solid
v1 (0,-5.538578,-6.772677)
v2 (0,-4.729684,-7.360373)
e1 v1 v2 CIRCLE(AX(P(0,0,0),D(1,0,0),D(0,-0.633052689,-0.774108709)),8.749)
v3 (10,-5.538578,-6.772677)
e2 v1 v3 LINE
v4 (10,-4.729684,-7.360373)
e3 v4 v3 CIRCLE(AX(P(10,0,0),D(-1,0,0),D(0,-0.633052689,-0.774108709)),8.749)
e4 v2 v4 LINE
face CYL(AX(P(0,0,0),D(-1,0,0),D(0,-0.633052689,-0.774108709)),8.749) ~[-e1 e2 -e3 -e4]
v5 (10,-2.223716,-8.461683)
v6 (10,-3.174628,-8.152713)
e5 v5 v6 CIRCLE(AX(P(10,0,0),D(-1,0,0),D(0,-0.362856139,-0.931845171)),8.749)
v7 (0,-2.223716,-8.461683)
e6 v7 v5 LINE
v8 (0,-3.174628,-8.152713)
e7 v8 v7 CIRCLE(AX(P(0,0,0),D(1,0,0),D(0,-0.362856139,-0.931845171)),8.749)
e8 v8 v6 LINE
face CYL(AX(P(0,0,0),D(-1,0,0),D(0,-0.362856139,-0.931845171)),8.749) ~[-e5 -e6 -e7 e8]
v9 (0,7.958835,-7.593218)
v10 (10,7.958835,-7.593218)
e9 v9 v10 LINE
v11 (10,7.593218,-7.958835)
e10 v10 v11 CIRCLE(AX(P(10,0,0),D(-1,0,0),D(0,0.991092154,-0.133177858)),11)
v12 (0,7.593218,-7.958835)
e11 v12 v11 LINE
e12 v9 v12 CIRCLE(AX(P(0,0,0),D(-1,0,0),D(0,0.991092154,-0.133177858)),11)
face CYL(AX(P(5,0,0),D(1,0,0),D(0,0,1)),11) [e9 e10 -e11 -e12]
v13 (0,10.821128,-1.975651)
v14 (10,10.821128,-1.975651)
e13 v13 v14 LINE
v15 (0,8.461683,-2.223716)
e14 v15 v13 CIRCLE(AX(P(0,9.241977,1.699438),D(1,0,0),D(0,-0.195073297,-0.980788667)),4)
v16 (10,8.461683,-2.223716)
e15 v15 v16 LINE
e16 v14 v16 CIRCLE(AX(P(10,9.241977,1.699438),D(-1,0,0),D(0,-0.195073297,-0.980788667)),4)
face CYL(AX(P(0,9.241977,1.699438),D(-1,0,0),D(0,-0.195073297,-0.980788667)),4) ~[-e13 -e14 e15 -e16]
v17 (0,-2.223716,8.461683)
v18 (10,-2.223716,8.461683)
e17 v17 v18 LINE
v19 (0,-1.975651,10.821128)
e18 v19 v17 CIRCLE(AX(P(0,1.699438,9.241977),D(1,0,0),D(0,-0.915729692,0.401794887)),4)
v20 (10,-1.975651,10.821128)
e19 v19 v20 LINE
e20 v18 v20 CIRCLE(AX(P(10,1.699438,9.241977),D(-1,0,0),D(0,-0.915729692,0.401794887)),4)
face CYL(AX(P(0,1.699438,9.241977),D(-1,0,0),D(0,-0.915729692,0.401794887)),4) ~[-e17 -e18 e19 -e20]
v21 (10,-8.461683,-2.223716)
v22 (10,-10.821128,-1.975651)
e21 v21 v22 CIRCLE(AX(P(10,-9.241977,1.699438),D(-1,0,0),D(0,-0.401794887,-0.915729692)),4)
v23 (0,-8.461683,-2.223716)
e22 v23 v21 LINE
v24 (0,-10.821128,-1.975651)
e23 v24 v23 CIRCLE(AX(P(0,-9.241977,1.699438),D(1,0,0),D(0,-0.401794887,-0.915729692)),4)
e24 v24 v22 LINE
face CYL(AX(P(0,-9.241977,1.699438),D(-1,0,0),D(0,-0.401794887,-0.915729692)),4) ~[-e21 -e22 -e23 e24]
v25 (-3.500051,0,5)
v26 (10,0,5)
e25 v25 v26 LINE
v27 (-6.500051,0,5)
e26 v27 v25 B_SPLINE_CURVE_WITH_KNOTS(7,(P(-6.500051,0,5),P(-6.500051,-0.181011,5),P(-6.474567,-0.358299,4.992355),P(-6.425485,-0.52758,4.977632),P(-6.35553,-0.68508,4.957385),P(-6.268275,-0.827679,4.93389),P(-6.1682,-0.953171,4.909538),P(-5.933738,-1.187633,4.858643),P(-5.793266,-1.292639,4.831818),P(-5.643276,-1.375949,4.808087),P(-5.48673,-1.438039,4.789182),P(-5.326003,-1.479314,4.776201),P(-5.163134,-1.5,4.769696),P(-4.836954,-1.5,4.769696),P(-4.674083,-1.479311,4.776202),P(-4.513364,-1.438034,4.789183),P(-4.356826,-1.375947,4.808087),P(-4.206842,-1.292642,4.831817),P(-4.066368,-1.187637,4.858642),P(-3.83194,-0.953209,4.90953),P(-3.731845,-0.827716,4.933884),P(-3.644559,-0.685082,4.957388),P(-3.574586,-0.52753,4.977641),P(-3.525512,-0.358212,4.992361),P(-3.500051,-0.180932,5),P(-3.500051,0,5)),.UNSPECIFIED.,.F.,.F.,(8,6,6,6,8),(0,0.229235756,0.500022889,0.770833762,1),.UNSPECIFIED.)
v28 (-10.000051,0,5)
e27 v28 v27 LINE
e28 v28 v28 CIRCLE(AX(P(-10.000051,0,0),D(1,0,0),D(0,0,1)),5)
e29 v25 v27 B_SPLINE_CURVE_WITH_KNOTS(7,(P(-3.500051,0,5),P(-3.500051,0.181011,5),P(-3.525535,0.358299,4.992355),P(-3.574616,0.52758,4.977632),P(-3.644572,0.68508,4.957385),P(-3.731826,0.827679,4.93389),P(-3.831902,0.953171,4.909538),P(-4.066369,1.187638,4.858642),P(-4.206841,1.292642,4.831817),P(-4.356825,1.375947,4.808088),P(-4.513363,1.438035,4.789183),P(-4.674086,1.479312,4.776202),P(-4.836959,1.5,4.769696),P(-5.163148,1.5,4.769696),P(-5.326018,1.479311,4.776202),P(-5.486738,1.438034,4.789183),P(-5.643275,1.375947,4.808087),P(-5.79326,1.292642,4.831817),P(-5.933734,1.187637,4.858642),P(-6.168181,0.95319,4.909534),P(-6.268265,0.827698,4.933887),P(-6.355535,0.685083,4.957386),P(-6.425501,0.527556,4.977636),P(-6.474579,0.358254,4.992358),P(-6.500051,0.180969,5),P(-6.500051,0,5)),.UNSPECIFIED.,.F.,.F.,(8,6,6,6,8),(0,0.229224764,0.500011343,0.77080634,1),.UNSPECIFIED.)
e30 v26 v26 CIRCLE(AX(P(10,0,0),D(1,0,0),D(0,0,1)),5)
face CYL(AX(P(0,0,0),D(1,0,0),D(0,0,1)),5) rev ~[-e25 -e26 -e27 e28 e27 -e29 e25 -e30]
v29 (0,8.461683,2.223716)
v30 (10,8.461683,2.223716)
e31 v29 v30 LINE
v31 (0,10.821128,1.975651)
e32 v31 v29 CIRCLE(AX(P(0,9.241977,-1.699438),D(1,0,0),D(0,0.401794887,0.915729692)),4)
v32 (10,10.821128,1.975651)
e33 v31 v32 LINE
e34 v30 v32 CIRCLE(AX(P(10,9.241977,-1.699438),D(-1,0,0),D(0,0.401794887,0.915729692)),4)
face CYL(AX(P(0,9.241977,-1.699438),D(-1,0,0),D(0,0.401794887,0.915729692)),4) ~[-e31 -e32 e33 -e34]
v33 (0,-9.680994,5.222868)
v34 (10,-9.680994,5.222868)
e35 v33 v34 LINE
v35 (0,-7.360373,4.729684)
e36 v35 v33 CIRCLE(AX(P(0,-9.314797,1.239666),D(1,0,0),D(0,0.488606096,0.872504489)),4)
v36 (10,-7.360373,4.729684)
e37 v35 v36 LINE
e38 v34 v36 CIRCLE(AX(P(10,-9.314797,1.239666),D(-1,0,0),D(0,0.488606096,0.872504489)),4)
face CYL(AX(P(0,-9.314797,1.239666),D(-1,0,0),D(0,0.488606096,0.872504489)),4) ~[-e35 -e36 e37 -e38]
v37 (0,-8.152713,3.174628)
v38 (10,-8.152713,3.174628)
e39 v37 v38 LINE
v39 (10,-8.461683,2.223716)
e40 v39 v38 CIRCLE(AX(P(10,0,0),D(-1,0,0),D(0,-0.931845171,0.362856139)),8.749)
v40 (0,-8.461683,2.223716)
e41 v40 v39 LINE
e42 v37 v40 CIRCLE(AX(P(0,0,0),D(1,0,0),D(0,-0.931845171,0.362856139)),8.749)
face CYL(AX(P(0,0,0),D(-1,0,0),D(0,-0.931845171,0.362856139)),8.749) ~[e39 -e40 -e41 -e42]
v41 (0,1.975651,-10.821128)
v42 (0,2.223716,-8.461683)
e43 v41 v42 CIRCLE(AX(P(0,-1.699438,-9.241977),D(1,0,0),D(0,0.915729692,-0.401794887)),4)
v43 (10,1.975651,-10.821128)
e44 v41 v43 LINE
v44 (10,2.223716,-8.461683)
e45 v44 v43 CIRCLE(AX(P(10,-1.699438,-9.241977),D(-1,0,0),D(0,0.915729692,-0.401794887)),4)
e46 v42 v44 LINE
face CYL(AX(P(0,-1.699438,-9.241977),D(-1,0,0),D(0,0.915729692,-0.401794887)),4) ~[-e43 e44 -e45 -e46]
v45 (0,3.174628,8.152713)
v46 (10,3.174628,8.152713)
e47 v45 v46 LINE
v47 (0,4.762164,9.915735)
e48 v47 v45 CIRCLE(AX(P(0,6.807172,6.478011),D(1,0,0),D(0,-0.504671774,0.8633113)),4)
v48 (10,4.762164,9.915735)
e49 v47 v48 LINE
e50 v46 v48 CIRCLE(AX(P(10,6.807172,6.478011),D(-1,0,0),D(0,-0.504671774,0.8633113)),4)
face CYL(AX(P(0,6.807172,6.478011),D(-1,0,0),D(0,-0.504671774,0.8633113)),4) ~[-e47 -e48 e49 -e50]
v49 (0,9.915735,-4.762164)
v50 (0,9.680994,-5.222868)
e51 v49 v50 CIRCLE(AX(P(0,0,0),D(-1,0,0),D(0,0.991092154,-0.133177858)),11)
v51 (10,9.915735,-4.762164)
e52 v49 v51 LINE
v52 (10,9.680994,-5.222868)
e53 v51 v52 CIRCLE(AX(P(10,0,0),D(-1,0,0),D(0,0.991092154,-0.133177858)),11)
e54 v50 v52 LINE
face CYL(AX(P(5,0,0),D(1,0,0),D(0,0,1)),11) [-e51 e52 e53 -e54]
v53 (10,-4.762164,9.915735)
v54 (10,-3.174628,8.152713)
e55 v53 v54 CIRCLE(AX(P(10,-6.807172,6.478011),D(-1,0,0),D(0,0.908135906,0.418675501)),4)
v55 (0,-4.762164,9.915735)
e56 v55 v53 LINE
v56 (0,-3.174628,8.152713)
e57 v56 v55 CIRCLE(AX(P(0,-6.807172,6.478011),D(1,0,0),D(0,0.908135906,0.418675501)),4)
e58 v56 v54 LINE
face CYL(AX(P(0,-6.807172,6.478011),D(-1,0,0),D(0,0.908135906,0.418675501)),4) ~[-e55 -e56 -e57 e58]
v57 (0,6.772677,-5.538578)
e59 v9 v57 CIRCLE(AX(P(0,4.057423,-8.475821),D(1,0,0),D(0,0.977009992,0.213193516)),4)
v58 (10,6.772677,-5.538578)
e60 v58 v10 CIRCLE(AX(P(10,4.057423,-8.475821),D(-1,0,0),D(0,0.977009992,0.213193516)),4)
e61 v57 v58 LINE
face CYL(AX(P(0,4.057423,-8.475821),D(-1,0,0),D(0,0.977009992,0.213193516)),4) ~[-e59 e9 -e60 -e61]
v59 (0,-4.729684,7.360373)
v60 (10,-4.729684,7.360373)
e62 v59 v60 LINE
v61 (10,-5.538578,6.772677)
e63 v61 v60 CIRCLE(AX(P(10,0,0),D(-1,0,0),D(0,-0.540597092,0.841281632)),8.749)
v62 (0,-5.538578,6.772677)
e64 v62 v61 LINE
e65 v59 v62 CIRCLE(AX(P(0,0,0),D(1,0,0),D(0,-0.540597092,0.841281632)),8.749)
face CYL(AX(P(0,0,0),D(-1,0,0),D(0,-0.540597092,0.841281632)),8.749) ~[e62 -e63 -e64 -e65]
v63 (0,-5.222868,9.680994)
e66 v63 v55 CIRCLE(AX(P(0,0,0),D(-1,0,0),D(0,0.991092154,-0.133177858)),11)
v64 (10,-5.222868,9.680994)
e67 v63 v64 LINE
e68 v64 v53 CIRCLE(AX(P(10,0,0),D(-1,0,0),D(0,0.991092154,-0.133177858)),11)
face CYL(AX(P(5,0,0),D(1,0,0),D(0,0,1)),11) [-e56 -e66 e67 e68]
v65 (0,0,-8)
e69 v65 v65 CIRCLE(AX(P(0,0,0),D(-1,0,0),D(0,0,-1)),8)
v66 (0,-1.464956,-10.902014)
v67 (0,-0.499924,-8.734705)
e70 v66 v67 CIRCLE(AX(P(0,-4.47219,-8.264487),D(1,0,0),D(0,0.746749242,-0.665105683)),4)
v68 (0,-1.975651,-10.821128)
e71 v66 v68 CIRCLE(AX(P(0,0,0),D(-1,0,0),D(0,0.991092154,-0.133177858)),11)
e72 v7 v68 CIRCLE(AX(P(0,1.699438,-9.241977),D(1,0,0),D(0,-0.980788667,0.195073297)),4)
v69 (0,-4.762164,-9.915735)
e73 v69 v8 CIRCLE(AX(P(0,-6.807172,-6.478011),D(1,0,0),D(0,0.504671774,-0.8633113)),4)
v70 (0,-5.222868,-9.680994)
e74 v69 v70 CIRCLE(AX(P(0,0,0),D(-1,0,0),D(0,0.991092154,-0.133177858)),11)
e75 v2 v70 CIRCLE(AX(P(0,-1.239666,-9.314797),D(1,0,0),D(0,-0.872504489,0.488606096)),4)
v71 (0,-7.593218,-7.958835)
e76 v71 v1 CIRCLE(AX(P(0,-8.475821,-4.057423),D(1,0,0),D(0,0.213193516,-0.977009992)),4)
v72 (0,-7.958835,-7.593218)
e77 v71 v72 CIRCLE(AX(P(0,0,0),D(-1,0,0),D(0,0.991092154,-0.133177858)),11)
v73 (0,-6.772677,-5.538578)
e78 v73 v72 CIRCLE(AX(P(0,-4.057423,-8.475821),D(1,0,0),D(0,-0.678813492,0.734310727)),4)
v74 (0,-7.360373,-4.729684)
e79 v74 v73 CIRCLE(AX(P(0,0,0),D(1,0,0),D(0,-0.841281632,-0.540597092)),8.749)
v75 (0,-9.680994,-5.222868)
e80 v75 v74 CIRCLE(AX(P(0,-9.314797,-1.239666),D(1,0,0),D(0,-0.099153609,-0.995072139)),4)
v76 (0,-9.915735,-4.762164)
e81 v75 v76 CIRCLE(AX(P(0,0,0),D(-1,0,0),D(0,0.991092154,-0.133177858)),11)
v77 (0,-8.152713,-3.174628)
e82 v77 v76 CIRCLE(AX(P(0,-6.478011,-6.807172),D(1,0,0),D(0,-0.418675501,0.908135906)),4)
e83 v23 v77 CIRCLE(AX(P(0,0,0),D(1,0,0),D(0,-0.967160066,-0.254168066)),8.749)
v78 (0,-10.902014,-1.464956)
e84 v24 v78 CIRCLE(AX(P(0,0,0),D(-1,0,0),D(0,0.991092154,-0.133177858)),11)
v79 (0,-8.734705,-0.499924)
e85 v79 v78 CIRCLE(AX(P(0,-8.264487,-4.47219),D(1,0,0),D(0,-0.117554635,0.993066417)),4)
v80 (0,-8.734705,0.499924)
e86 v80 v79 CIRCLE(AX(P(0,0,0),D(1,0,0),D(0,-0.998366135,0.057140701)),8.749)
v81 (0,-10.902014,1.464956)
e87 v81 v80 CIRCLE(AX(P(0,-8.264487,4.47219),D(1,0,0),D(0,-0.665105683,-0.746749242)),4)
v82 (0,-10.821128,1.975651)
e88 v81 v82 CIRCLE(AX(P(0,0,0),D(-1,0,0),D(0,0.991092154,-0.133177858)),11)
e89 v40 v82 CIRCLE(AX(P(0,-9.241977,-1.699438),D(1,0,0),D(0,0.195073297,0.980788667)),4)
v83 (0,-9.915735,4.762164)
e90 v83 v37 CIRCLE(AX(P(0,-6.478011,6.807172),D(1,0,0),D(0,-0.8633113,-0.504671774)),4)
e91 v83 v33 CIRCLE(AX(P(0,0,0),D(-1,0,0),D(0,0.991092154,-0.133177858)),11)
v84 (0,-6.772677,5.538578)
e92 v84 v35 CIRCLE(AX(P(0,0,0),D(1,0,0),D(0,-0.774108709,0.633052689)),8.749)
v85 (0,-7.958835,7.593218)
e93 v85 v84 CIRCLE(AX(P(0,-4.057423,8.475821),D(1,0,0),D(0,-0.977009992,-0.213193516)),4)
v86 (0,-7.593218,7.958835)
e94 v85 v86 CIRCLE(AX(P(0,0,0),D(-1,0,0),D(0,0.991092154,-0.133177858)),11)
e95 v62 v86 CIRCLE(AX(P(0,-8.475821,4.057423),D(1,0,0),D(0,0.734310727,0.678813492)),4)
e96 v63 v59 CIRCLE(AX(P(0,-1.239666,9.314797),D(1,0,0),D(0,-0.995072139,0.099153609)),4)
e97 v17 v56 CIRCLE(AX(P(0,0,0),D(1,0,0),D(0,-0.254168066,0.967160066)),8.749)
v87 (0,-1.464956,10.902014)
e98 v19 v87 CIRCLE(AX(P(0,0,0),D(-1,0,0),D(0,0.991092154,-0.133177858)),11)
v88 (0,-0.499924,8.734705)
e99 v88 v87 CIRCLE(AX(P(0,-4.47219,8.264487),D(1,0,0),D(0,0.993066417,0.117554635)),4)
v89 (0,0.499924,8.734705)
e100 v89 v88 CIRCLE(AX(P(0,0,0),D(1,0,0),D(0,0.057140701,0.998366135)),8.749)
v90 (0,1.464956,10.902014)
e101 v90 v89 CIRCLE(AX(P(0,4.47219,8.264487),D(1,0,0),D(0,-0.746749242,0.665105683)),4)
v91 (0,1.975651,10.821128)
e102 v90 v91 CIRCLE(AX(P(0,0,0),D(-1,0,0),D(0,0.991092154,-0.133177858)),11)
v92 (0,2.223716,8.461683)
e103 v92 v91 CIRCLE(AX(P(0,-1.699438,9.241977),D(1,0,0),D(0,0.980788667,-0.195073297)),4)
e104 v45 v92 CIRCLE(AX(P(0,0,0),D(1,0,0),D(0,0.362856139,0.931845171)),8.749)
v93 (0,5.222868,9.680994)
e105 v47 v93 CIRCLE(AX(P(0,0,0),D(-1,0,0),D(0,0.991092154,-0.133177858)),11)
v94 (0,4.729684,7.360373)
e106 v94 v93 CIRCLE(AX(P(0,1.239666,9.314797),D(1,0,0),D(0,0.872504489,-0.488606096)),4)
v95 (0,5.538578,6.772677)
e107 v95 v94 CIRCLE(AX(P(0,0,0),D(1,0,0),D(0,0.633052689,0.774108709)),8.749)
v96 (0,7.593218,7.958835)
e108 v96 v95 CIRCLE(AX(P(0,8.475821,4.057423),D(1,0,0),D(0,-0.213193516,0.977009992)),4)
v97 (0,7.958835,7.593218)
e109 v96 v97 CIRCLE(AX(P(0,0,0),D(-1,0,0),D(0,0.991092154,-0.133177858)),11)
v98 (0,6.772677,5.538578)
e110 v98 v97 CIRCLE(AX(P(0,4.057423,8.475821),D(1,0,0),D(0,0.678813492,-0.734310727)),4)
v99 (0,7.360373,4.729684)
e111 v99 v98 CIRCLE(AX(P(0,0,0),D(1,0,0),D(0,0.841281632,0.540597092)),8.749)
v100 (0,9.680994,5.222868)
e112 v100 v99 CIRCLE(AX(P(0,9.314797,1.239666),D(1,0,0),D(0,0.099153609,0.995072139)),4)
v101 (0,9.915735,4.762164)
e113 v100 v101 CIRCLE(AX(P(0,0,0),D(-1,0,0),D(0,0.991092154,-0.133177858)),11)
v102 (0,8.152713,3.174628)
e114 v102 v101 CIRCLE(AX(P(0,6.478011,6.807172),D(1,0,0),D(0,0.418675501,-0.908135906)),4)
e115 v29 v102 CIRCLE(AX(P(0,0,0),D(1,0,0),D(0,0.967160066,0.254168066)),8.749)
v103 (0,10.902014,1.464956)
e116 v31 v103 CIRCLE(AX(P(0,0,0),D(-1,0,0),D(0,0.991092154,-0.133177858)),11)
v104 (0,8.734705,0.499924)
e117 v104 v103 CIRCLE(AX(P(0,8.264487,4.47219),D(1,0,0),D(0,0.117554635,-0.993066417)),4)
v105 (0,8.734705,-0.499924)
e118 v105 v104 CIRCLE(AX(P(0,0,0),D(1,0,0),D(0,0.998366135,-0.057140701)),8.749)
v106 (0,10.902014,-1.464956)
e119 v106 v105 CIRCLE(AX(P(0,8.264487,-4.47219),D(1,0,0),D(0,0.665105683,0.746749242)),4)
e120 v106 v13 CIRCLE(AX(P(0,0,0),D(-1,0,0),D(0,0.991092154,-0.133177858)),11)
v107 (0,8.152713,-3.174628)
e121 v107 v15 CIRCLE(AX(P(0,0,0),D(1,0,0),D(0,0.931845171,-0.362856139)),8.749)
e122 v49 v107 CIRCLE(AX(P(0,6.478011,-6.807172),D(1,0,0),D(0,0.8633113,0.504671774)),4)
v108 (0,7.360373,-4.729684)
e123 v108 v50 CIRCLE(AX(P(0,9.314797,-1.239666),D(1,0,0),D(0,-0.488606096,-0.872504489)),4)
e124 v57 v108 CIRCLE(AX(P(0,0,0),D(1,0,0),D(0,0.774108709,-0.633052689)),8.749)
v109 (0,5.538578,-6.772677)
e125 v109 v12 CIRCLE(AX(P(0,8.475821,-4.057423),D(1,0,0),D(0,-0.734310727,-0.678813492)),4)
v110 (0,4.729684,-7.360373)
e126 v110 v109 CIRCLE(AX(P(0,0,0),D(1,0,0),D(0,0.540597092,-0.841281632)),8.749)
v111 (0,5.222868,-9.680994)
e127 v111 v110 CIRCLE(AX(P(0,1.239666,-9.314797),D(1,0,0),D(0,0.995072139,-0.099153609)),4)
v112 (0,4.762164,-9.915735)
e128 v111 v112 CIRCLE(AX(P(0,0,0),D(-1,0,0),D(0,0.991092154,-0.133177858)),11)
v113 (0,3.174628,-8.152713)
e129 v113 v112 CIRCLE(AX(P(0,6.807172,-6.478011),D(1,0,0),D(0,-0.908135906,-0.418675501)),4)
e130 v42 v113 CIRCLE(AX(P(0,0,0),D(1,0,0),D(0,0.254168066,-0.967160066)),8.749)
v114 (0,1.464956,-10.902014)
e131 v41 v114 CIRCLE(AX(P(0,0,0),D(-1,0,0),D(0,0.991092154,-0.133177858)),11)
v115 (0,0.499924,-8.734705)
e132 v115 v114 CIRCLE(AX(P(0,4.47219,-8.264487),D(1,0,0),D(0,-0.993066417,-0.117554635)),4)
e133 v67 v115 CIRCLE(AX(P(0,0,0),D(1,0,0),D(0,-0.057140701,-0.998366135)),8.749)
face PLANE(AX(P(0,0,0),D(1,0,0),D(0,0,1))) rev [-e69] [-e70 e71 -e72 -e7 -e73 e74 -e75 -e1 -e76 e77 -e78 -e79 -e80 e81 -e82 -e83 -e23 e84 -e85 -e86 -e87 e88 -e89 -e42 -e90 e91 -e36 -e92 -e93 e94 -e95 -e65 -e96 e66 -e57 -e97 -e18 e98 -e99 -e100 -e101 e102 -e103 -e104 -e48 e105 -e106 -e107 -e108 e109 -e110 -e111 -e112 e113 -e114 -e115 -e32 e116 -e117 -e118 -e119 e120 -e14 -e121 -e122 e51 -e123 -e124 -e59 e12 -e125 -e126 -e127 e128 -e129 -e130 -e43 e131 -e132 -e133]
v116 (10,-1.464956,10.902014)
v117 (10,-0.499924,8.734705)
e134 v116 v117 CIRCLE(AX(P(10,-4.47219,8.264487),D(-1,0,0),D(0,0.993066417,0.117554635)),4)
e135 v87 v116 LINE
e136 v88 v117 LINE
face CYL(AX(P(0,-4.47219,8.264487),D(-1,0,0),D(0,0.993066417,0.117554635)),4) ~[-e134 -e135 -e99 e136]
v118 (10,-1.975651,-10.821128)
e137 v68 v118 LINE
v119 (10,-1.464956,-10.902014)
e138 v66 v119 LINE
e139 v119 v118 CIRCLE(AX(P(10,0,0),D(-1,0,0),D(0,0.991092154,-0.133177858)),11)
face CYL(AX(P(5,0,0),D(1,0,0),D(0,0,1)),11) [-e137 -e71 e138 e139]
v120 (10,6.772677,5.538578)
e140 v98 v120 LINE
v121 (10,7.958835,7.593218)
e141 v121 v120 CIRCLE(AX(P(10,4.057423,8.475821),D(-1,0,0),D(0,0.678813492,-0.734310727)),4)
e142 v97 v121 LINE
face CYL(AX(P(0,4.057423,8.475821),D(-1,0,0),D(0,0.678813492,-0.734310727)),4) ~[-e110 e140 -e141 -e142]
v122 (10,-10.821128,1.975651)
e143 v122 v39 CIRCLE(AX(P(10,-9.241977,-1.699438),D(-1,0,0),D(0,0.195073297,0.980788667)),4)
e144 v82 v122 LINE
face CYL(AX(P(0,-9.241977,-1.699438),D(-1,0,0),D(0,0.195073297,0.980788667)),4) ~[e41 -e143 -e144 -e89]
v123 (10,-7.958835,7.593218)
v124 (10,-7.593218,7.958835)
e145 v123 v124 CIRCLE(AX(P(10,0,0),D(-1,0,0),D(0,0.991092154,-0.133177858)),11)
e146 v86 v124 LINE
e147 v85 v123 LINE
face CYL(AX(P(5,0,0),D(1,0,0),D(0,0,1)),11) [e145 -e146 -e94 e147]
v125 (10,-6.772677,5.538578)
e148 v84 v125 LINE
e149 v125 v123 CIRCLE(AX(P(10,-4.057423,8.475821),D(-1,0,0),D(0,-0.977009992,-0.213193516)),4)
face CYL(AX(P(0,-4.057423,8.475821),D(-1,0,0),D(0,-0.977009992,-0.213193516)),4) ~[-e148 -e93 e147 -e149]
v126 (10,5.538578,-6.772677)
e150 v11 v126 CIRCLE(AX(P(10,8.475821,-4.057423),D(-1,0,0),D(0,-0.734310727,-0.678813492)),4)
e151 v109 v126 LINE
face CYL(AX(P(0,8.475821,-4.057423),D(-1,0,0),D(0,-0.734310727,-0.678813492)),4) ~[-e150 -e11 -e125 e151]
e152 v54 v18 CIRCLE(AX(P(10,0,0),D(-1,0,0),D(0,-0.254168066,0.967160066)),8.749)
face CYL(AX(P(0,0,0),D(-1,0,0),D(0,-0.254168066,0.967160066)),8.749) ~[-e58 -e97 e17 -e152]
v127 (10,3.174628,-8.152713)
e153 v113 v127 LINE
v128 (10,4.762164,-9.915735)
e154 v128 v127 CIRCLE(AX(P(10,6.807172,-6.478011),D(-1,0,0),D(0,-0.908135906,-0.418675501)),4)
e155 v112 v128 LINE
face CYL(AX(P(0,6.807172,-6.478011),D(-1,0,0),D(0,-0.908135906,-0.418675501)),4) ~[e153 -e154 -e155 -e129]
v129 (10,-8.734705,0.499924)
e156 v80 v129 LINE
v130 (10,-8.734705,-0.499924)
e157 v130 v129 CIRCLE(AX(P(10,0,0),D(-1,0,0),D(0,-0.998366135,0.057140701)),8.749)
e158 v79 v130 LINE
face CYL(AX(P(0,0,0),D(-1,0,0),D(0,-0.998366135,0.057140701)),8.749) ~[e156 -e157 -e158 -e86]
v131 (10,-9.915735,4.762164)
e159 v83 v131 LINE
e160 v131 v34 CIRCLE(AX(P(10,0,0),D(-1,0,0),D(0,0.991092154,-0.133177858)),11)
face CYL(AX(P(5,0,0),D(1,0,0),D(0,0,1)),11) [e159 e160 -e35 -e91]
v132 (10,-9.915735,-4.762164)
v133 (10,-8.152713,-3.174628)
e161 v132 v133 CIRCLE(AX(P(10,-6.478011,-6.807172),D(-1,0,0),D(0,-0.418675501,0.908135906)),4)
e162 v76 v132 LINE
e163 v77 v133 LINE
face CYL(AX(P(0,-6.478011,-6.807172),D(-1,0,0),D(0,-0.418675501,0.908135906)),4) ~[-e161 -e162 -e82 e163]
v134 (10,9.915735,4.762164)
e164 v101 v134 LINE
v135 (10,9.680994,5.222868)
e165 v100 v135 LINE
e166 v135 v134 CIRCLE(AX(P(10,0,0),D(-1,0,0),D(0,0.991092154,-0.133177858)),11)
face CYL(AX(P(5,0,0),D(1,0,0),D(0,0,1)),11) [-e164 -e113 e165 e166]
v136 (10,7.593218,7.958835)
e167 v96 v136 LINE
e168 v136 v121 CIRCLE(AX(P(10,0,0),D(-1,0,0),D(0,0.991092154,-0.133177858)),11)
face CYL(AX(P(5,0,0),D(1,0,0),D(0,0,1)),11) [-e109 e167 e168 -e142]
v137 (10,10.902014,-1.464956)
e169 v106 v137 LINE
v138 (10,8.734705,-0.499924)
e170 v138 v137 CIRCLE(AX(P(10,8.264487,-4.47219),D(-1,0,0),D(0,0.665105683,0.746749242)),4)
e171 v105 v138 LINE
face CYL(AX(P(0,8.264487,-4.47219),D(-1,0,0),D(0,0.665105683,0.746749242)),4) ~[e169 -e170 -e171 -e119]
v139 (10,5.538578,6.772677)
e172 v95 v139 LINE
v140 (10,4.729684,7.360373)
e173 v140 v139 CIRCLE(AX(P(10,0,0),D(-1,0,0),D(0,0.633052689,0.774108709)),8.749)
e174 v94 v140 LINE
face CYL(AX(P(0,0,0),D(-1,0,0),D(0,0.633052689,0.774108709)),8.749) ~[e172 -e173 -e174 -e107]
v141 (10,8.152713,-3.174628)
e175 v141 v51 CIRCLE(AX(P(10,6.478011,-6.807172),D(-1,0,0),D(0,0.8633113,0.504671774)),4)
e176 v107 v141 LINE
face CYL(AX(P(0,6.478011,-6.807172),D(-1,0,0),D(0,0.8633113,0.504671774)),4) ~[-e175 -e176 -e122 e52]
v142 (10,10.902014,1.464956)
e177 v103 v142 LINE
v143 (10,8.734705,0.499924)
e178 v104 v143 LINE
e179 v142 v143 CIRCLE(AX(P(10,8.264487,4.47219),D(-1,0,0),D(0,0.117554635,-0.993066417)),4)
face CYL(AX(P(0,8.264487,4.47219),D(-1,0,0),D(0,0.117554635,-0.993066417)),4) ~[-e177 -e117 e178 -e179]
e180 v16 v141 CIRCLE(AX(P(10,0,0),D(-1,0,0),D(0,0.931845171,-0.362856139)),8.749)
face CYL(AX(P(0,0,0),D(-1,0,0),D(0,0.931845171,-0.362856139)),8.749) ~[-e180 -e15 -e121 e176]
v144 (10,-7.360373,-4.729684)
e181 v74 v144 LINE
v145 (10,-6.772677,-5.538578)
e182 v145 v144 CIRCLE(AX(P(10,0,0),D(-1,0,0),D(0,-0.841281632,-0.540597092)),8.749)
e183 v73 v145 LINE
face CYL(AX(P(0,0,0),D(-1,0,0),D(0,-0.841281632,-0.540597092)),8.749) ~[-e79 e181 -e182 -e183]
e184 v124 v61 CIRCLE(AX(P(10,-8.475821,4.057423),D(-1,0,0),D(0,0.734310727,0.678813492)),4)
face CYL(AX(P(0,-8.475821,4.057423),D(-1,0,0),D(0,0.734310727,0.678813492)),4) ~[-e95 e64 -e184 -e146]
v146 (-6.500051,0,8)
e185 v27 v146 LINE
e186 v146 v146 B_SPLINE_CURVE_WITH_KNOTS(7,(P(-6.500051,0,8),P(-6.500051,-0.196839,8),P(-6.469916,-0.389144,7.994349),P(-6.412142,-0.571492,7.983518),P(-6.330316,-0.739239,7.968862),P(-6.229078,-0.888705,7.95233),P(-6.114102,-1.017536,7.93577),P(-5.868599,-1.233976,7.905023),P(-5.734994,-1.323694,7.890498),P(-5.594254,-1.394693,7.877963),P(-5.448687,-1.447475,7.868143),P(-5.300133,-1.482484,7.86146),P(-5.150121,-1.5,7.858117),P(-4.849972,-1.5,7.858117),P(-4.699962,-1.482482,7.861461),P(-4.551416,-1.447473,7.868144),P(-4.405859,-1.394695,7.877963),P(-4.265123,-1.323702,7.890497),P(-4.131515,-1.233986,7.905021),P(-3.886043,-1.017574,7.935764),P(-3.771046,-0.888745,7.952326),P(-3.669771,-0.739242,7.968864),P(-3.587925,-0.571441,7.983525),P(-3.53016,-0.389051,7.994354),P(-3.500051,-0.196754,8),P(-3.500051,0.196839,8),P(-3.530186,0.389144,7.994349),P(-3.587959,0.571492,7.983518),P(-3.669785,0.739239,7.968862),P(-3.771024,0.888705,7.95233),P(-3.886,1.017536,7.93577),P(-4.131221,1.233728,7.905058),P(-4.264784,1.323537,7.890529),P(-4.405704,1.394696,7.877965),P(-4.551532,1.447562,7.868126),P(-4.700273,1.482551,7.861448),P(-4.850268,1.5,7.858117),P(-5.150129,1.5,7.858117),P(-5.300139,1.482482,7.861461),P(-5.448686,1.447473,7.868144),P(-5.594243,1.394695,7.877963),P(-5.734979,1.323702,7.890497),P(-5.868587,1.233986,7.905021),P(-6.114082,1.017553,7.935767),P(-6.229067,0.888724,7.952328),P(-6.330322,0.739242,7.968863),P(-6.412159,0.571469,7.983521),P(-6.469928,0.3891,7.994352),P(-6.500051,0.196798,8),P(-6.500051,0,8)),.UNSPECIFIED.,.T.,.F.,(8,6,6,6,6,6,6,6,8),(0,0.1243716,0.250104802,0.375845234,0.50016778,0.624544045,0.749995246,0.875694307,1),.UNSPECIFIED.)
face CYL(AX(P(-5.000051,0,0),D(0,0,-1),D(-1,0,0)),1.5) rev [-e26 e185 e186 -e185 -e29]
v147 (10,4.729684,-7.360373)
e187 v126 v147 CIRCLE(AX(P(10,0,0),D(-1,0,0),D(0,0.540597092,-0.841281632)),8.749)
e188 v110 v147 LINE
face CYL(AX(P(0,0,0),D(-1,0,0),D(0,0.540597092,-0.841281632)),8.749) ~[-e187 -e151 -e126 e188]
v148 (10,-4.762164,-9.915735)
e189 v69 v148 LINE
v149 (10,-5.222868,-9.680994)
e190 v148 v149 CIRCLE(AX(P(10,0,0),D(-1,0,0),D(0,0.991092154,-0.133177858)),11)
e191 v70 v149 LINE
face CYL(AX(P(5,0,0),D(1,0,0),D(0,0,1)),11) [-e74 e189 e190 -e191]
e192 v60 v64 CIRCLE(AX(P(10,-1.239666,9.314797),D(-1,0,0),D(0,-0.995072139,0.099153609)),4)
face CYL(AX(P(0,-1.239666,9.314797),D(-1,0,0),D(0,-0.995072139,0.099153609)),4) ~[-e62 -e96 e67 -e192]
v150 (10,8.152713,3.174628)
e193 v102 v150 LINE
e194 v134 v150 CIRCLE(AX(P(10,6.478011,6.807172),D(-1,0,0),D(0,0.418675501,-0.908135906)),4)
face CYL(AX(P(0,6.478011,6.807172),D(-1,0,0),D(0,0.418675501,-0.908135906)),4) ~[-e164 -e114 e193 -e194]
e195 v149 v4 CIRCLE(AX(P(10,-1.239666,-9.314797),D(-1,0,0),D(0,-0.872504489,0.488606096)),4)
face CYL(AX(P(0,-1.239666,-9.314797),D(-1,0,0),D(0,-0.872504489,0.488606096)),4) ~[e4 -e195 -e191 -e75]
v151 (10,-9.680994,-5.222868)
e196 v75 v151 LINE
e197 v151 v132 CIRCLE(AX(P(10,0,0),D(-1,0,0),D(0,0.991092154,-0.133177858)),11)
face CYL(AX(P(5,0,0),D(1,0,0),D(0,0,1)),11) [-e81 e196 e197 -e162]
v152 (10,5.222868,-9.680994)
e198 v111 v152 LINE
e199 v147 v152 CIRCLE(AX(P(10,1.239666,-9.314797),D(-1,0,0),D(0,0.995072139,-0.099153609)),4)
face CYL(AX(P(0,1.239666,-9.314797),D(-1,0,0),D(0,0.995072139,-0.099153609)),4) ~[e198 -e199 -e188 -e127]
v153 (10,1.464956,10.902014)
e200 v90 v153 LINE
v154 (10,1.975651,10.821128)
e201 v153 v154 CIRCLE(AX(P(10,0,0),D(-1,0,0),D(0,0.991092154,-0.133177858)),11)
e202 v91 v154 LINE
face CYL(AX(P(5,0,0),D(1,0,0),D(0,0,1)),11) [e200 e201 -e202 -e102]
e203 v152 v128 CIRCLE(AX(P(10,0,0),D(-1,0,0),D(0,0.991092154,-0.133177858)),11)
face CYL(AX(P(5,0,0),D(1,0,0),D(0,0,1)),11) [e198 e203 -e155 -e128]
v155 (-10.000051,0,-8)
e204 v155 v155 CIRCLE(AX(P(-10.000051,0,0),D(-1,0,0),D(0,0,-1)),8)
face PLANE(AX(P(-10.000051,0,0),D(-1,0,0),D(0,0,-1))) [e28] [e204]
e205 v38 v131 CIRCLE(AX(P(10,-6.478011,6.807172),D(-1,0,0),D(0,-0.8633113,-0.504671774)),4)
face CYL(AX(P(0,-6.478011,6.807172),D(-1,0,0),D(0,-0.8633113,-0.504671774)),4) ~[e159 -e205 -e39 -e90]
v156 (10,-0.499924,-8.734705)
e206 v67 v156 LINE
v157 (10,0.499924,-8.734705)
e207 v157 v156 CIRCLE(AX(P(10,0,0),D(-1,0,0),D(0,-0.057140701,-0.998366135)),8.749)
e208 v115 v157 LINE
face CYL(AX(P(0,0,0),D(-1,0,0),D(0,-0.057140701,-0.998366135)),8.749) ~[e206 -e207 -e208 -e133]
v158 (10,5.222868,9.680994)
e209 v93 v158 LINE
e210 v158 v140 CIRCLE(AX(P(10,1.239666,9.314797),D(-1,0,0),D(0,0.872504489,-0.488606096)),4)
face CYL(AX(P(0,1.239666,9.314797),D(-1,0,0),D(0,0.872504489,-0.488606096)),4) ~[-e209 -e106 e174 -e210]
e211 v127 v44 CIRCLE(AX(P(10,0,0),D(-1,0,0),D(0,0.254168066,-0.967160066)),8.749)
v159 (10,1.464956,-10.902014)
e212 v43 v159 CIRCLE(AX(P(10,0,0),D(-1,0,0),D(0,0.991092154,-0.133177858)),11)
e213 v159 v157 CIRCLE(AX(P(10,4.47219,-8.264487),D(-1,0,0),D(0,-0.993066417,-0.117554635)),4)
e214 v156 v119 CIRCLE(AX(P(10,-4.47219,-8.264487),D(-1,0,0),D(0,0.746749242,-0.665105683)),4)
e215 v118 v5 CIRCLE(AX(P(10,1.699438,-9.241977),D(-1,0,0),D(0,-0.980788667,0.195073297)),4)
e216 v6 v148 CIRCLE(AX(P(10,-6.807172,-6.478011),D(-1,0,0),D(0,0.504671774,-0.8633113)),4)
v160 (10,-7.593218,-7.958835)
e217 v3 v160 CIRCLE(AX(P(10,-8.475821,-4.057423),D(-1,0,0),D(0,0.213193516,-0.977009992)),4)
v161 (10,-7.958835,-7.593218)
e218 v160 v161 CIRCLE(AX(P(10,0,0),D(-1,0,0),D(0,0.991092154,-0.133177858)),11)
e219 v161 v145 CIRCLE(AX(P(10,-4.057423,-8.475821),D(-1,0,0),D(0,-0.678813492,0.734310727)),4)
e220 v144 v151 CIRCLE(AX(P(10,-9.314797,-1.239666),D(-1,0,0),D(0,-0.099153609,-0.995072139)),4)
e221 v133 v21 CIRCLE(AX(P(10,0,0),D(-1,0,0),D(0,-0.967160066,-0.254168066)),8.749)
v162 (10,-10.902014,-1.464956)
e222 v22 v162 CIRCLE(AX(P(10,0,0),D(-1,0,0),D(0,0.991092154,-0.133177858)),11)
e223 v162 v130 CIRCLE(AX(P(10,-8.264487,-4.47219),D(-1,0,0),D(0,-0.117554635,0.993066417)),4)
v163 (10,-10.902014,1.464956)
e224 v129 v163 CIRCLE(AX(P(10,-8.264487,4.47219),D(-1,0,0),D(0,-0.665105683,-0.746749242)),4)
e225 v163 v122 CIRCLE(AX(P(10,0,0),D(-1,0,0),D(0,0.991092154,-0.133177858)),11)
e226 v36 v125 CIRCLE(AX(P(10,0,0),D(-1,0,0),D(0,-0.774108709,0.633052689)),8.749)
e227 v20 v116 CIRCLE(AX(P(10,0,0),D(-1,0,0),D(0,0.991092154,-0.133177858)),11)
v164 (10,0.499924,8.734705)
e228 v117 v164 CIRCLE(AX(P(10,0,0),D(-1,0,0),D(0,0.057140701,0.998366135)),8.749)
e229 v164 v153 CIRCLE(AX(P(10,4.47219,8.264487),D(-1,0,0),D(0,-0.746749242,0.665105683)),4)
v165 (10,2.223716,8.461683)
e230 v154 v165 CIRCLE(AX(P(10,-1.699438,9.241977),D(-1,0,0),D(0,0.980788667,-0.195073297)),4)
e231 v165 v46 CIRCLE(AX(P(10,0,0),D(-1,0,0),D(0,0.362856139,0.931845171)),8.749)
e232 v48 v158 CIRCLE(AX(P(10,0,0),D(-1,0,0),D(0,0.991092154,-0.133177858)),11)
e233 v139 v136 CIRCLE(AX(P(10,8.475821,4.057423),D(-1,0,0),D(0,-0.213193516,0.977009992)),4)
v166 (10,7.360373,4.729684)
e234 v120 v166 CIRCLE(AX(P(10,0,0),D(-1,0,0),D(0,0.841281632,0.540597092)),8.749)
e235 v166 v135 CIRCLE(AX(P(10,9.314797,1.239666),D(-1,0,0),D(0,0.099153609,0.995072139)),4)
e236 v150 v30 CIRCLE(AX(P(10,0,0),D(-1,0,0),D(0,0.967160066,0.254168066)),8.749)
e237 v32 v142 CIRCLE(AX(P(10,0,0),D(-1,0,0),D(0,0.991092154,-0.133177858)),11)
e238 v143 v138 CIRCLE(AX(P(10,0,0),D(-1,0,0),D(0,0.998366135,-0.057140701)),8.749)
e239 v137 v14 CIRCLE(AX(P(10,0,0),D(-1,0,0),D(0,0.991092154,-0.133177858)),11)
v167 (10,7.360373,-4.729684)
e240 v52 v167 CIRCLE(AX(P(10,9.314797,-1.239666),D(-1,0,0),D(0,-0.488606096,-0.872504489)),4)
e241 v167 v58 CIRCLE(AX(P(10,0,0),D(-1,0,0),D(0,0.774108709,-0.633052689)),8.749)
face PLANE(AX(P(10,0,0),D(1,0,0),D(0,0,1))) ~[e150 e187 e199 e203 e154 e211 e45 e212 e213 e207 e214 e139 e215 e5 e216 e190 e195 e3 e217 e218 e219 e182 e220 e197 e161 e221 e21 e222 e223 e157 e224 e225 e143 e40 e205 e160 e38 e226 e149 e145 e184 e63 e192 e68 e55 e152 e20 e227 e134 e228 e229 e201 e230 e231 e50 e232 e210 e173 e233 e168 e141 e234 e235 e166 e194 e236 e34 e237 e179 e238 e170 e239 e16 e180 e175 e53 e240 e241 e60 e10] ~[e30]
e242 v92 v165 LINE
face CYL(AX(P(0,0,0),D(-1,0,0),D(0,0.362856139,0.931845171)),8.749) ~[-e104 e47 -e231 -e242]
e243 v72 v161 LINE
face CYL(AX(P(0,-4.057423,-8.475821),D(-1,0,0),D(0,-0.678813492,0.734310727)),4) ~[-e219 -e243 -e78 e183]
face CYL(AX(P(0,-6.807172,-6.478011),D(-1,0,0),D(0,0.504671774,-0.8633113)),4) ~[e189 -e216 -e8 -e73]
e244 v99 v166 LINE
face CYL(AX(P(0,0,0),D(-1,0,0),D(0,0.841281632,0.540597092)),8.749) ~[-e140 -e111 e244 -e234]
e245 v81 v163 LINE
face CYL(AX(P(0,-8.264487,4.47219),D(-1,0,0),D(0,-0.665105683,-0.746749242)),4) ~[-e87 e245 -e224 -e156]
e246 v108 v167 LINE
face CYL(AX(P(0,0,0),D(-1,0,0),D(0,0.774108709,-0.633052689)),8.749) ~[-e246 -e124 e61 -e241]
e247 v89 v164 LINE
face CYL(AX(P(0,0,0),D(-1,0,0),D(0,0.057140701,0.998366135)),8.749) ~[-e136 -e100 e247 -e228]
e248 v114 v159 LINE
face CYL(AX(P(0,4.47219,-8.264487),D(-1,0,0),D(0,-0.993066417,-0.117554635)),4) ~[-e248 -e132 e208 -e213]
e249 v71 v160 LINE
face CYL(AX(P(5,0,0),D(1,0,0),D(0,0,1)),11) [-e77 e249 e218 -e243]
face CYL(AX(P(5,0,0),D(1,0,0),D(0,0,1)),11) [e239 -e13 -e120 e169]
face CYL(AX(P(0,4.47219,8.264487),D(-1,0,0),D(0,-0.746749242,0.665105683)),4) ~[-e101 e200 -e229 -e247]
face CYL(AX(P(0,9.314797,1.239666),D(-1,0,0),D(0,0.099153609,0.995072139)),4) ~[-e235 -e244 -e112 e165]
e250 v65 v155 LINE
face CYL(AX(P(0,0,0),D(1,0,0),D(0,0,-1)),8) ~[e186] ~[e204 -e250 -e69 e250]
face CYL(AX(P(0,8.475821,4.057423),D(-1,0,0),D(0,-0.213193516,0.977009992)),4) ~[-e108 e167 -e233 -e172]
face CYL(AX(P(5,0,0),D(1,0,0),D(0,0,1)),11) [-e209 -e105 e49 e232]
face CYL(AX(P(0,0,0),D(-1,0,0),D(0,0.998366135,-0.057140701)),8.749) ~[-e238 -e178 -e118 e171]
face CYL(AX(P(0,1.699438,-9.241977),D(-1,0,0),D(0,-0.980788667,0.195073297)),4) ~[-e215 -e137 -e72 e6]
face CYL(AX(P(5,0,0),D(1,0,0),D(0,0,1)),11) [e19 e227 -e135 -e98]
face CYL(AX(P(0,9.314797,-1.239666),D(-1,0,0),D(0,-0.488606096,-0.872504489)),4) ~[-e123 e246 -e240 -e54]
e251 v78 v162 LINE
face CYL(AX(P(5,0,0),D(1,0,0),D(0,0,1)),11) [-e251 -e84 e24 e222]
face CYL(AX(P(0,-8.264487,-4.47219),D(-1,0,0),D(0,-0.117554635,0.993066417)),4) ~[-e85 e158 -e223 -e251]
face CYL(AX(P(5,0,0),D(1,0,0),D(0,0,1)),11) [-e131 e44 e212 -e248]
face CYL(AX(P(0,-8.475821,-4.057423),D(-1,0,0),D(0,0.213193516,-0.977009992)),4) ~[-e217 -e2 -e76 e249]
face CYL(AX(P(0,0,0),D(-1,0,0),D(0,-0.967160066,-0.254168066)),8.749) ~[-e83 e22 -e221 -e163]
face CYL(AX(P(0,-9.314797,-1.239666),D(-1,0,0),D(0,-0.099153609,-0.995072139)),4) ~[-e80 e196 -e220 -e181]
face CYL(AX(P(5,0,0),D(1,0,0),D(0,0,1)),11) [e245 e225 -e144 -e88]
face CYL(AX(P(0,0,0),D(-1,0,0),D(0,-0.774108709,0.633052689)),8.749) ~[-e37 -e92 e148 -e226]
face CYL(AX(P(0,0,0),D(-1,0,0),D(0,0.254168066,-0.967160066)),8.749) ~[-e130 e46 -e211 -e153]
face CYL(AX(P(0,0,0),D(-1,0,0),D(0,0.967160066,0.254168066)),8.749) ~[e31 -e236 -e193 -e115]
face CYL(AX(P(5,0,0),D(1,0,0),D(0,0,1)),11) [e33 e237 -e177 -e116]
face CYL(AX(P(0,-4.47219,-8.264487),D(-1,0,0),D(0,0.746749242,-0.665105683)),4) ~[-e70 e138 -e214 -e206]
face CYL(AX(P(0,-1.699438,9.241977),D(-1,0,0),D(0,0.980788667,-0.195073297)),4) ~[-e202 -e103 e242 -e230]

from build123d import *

# Parameters (mm, degrees)
BASPROSKE_W              = 10
BASPROSKE_H              = 11
TOOTHCUT_DEPTH           = 19.493242009
TEETHCUTS_COUNT          = 20
TEETHCUTS_ANGLE          = 342
HUBNEAONESKE_R           = 8
HUBNEARONE_DEPTH         = 10.0000508
BORSKE_R                 = 5
BORE_DEPTH               = 20.0000508
SKETCH_1_R               = 1.5
CUT_EXTRUDE_1_DEPTH      = 9
CUT_EXTRUDE_1_DEPTH_BACK = 1


with BuildPart() as part:
    # BasProSke → Base-Revolve (revolve)
    with BuildSketch(Plane(origin=(0, 0, 0), x_dir=(1, 0, 0), z_dir=(0, 1, 0)), mode=Mode.PRIVATE) as base_revolve_sk:
        with Locations((5, 5.5)):
            Rectangle(BASPROSKE_W, BASPROSKE_H)
    revolve(base_revolve_sk.sketch.rotate(Axis((-10, 0, 0), (1, 0, 0)), 180), axis=Axis((-10, 0, 0), (1, 0, 0)))

    # TooCutSke → ToothCut (cut, through all)
    with BuildSketch(Plane(origin=(0, 0, 0), x_dir=(0, 0, -1), z_dir=(1, 0, 0))):
        with BuildLine():
            ThreePointArc((0.499924007, 8.734705318), (0, 8.749), (-0.499924007, 8.734705318))
            ThreePointArc((-0.499924007, 8.734705318), (-0.824302243, 9.905497836), (-1.485192705, 10.924909509))
            ThreePointArc((-1.485192705, 10.924909509), (0, 11.0254), (1.485192705, 10.924909509))
            ThreePointArc((1.485192705, 10.924909509), (0.824302243, 9.905497836), (0.499924007, 8.734705318))
        make_face()
    toothcut = extrude(amount=TOOTHCUT_DEPTH, mode=Mode.SUBTRACT)

    # TeethCuts: ToothCut ×20 about axis
    teethcuts_axis = Axis((-10, 0, 0), (1, 0, 0))
    for i in range(1, TEETHCUTS_COUNT):
        add(toothcut.rotate(teethcuts_axis, i * TEETHCUTS_ANGLE / (TEETHCUTS_COUNT - 1)), mode=Mode.SUBTRACT)

    # HubNeaOneSke → HubNearOne (add)
    with BuildSketch(Plane.ZY):
        with Locations(Location((0, 0, 0), (0, 0, 180))):
            Circle(HUBNEAONESKE_R)
    extrude(amount=HUBNEARONE_DEPTH)

    # BorSke → Bore (cut, symmetric)
    with BuildSketch(Plane(origin=(0, 0, 0), x_dir=(0, 0, -1), z_dir=(1, 0, 0))):
        with Locations(Location((0, 0, 0), (0, 0, 180))):
            Circle(BORSKE_R)
    extrude(amount=BORE_DEPTH, both=True, mode=Mode.SUBTRACT)

    # 草图1 → 切除-拉伸1 (cut, two sides)
    with BuildSketch(Plane.XY) as cut_extrude_1_sk:
        with Locations(Location((-5.0000508, 0, 0), (0, 0, 180.000000001))):
            Circle(SKETCH_1_R)
    extrude(amount=CUT_EXTRUDE_1_DEPTH, mode=Mode.SUBTRACT)
    extrude(cut_extrude_1_sk.sketch, amount=-CUT_EXTRUDE_1_DEPTH_BACK, mode=Mode.SUBTRACT)


solid = part.part
